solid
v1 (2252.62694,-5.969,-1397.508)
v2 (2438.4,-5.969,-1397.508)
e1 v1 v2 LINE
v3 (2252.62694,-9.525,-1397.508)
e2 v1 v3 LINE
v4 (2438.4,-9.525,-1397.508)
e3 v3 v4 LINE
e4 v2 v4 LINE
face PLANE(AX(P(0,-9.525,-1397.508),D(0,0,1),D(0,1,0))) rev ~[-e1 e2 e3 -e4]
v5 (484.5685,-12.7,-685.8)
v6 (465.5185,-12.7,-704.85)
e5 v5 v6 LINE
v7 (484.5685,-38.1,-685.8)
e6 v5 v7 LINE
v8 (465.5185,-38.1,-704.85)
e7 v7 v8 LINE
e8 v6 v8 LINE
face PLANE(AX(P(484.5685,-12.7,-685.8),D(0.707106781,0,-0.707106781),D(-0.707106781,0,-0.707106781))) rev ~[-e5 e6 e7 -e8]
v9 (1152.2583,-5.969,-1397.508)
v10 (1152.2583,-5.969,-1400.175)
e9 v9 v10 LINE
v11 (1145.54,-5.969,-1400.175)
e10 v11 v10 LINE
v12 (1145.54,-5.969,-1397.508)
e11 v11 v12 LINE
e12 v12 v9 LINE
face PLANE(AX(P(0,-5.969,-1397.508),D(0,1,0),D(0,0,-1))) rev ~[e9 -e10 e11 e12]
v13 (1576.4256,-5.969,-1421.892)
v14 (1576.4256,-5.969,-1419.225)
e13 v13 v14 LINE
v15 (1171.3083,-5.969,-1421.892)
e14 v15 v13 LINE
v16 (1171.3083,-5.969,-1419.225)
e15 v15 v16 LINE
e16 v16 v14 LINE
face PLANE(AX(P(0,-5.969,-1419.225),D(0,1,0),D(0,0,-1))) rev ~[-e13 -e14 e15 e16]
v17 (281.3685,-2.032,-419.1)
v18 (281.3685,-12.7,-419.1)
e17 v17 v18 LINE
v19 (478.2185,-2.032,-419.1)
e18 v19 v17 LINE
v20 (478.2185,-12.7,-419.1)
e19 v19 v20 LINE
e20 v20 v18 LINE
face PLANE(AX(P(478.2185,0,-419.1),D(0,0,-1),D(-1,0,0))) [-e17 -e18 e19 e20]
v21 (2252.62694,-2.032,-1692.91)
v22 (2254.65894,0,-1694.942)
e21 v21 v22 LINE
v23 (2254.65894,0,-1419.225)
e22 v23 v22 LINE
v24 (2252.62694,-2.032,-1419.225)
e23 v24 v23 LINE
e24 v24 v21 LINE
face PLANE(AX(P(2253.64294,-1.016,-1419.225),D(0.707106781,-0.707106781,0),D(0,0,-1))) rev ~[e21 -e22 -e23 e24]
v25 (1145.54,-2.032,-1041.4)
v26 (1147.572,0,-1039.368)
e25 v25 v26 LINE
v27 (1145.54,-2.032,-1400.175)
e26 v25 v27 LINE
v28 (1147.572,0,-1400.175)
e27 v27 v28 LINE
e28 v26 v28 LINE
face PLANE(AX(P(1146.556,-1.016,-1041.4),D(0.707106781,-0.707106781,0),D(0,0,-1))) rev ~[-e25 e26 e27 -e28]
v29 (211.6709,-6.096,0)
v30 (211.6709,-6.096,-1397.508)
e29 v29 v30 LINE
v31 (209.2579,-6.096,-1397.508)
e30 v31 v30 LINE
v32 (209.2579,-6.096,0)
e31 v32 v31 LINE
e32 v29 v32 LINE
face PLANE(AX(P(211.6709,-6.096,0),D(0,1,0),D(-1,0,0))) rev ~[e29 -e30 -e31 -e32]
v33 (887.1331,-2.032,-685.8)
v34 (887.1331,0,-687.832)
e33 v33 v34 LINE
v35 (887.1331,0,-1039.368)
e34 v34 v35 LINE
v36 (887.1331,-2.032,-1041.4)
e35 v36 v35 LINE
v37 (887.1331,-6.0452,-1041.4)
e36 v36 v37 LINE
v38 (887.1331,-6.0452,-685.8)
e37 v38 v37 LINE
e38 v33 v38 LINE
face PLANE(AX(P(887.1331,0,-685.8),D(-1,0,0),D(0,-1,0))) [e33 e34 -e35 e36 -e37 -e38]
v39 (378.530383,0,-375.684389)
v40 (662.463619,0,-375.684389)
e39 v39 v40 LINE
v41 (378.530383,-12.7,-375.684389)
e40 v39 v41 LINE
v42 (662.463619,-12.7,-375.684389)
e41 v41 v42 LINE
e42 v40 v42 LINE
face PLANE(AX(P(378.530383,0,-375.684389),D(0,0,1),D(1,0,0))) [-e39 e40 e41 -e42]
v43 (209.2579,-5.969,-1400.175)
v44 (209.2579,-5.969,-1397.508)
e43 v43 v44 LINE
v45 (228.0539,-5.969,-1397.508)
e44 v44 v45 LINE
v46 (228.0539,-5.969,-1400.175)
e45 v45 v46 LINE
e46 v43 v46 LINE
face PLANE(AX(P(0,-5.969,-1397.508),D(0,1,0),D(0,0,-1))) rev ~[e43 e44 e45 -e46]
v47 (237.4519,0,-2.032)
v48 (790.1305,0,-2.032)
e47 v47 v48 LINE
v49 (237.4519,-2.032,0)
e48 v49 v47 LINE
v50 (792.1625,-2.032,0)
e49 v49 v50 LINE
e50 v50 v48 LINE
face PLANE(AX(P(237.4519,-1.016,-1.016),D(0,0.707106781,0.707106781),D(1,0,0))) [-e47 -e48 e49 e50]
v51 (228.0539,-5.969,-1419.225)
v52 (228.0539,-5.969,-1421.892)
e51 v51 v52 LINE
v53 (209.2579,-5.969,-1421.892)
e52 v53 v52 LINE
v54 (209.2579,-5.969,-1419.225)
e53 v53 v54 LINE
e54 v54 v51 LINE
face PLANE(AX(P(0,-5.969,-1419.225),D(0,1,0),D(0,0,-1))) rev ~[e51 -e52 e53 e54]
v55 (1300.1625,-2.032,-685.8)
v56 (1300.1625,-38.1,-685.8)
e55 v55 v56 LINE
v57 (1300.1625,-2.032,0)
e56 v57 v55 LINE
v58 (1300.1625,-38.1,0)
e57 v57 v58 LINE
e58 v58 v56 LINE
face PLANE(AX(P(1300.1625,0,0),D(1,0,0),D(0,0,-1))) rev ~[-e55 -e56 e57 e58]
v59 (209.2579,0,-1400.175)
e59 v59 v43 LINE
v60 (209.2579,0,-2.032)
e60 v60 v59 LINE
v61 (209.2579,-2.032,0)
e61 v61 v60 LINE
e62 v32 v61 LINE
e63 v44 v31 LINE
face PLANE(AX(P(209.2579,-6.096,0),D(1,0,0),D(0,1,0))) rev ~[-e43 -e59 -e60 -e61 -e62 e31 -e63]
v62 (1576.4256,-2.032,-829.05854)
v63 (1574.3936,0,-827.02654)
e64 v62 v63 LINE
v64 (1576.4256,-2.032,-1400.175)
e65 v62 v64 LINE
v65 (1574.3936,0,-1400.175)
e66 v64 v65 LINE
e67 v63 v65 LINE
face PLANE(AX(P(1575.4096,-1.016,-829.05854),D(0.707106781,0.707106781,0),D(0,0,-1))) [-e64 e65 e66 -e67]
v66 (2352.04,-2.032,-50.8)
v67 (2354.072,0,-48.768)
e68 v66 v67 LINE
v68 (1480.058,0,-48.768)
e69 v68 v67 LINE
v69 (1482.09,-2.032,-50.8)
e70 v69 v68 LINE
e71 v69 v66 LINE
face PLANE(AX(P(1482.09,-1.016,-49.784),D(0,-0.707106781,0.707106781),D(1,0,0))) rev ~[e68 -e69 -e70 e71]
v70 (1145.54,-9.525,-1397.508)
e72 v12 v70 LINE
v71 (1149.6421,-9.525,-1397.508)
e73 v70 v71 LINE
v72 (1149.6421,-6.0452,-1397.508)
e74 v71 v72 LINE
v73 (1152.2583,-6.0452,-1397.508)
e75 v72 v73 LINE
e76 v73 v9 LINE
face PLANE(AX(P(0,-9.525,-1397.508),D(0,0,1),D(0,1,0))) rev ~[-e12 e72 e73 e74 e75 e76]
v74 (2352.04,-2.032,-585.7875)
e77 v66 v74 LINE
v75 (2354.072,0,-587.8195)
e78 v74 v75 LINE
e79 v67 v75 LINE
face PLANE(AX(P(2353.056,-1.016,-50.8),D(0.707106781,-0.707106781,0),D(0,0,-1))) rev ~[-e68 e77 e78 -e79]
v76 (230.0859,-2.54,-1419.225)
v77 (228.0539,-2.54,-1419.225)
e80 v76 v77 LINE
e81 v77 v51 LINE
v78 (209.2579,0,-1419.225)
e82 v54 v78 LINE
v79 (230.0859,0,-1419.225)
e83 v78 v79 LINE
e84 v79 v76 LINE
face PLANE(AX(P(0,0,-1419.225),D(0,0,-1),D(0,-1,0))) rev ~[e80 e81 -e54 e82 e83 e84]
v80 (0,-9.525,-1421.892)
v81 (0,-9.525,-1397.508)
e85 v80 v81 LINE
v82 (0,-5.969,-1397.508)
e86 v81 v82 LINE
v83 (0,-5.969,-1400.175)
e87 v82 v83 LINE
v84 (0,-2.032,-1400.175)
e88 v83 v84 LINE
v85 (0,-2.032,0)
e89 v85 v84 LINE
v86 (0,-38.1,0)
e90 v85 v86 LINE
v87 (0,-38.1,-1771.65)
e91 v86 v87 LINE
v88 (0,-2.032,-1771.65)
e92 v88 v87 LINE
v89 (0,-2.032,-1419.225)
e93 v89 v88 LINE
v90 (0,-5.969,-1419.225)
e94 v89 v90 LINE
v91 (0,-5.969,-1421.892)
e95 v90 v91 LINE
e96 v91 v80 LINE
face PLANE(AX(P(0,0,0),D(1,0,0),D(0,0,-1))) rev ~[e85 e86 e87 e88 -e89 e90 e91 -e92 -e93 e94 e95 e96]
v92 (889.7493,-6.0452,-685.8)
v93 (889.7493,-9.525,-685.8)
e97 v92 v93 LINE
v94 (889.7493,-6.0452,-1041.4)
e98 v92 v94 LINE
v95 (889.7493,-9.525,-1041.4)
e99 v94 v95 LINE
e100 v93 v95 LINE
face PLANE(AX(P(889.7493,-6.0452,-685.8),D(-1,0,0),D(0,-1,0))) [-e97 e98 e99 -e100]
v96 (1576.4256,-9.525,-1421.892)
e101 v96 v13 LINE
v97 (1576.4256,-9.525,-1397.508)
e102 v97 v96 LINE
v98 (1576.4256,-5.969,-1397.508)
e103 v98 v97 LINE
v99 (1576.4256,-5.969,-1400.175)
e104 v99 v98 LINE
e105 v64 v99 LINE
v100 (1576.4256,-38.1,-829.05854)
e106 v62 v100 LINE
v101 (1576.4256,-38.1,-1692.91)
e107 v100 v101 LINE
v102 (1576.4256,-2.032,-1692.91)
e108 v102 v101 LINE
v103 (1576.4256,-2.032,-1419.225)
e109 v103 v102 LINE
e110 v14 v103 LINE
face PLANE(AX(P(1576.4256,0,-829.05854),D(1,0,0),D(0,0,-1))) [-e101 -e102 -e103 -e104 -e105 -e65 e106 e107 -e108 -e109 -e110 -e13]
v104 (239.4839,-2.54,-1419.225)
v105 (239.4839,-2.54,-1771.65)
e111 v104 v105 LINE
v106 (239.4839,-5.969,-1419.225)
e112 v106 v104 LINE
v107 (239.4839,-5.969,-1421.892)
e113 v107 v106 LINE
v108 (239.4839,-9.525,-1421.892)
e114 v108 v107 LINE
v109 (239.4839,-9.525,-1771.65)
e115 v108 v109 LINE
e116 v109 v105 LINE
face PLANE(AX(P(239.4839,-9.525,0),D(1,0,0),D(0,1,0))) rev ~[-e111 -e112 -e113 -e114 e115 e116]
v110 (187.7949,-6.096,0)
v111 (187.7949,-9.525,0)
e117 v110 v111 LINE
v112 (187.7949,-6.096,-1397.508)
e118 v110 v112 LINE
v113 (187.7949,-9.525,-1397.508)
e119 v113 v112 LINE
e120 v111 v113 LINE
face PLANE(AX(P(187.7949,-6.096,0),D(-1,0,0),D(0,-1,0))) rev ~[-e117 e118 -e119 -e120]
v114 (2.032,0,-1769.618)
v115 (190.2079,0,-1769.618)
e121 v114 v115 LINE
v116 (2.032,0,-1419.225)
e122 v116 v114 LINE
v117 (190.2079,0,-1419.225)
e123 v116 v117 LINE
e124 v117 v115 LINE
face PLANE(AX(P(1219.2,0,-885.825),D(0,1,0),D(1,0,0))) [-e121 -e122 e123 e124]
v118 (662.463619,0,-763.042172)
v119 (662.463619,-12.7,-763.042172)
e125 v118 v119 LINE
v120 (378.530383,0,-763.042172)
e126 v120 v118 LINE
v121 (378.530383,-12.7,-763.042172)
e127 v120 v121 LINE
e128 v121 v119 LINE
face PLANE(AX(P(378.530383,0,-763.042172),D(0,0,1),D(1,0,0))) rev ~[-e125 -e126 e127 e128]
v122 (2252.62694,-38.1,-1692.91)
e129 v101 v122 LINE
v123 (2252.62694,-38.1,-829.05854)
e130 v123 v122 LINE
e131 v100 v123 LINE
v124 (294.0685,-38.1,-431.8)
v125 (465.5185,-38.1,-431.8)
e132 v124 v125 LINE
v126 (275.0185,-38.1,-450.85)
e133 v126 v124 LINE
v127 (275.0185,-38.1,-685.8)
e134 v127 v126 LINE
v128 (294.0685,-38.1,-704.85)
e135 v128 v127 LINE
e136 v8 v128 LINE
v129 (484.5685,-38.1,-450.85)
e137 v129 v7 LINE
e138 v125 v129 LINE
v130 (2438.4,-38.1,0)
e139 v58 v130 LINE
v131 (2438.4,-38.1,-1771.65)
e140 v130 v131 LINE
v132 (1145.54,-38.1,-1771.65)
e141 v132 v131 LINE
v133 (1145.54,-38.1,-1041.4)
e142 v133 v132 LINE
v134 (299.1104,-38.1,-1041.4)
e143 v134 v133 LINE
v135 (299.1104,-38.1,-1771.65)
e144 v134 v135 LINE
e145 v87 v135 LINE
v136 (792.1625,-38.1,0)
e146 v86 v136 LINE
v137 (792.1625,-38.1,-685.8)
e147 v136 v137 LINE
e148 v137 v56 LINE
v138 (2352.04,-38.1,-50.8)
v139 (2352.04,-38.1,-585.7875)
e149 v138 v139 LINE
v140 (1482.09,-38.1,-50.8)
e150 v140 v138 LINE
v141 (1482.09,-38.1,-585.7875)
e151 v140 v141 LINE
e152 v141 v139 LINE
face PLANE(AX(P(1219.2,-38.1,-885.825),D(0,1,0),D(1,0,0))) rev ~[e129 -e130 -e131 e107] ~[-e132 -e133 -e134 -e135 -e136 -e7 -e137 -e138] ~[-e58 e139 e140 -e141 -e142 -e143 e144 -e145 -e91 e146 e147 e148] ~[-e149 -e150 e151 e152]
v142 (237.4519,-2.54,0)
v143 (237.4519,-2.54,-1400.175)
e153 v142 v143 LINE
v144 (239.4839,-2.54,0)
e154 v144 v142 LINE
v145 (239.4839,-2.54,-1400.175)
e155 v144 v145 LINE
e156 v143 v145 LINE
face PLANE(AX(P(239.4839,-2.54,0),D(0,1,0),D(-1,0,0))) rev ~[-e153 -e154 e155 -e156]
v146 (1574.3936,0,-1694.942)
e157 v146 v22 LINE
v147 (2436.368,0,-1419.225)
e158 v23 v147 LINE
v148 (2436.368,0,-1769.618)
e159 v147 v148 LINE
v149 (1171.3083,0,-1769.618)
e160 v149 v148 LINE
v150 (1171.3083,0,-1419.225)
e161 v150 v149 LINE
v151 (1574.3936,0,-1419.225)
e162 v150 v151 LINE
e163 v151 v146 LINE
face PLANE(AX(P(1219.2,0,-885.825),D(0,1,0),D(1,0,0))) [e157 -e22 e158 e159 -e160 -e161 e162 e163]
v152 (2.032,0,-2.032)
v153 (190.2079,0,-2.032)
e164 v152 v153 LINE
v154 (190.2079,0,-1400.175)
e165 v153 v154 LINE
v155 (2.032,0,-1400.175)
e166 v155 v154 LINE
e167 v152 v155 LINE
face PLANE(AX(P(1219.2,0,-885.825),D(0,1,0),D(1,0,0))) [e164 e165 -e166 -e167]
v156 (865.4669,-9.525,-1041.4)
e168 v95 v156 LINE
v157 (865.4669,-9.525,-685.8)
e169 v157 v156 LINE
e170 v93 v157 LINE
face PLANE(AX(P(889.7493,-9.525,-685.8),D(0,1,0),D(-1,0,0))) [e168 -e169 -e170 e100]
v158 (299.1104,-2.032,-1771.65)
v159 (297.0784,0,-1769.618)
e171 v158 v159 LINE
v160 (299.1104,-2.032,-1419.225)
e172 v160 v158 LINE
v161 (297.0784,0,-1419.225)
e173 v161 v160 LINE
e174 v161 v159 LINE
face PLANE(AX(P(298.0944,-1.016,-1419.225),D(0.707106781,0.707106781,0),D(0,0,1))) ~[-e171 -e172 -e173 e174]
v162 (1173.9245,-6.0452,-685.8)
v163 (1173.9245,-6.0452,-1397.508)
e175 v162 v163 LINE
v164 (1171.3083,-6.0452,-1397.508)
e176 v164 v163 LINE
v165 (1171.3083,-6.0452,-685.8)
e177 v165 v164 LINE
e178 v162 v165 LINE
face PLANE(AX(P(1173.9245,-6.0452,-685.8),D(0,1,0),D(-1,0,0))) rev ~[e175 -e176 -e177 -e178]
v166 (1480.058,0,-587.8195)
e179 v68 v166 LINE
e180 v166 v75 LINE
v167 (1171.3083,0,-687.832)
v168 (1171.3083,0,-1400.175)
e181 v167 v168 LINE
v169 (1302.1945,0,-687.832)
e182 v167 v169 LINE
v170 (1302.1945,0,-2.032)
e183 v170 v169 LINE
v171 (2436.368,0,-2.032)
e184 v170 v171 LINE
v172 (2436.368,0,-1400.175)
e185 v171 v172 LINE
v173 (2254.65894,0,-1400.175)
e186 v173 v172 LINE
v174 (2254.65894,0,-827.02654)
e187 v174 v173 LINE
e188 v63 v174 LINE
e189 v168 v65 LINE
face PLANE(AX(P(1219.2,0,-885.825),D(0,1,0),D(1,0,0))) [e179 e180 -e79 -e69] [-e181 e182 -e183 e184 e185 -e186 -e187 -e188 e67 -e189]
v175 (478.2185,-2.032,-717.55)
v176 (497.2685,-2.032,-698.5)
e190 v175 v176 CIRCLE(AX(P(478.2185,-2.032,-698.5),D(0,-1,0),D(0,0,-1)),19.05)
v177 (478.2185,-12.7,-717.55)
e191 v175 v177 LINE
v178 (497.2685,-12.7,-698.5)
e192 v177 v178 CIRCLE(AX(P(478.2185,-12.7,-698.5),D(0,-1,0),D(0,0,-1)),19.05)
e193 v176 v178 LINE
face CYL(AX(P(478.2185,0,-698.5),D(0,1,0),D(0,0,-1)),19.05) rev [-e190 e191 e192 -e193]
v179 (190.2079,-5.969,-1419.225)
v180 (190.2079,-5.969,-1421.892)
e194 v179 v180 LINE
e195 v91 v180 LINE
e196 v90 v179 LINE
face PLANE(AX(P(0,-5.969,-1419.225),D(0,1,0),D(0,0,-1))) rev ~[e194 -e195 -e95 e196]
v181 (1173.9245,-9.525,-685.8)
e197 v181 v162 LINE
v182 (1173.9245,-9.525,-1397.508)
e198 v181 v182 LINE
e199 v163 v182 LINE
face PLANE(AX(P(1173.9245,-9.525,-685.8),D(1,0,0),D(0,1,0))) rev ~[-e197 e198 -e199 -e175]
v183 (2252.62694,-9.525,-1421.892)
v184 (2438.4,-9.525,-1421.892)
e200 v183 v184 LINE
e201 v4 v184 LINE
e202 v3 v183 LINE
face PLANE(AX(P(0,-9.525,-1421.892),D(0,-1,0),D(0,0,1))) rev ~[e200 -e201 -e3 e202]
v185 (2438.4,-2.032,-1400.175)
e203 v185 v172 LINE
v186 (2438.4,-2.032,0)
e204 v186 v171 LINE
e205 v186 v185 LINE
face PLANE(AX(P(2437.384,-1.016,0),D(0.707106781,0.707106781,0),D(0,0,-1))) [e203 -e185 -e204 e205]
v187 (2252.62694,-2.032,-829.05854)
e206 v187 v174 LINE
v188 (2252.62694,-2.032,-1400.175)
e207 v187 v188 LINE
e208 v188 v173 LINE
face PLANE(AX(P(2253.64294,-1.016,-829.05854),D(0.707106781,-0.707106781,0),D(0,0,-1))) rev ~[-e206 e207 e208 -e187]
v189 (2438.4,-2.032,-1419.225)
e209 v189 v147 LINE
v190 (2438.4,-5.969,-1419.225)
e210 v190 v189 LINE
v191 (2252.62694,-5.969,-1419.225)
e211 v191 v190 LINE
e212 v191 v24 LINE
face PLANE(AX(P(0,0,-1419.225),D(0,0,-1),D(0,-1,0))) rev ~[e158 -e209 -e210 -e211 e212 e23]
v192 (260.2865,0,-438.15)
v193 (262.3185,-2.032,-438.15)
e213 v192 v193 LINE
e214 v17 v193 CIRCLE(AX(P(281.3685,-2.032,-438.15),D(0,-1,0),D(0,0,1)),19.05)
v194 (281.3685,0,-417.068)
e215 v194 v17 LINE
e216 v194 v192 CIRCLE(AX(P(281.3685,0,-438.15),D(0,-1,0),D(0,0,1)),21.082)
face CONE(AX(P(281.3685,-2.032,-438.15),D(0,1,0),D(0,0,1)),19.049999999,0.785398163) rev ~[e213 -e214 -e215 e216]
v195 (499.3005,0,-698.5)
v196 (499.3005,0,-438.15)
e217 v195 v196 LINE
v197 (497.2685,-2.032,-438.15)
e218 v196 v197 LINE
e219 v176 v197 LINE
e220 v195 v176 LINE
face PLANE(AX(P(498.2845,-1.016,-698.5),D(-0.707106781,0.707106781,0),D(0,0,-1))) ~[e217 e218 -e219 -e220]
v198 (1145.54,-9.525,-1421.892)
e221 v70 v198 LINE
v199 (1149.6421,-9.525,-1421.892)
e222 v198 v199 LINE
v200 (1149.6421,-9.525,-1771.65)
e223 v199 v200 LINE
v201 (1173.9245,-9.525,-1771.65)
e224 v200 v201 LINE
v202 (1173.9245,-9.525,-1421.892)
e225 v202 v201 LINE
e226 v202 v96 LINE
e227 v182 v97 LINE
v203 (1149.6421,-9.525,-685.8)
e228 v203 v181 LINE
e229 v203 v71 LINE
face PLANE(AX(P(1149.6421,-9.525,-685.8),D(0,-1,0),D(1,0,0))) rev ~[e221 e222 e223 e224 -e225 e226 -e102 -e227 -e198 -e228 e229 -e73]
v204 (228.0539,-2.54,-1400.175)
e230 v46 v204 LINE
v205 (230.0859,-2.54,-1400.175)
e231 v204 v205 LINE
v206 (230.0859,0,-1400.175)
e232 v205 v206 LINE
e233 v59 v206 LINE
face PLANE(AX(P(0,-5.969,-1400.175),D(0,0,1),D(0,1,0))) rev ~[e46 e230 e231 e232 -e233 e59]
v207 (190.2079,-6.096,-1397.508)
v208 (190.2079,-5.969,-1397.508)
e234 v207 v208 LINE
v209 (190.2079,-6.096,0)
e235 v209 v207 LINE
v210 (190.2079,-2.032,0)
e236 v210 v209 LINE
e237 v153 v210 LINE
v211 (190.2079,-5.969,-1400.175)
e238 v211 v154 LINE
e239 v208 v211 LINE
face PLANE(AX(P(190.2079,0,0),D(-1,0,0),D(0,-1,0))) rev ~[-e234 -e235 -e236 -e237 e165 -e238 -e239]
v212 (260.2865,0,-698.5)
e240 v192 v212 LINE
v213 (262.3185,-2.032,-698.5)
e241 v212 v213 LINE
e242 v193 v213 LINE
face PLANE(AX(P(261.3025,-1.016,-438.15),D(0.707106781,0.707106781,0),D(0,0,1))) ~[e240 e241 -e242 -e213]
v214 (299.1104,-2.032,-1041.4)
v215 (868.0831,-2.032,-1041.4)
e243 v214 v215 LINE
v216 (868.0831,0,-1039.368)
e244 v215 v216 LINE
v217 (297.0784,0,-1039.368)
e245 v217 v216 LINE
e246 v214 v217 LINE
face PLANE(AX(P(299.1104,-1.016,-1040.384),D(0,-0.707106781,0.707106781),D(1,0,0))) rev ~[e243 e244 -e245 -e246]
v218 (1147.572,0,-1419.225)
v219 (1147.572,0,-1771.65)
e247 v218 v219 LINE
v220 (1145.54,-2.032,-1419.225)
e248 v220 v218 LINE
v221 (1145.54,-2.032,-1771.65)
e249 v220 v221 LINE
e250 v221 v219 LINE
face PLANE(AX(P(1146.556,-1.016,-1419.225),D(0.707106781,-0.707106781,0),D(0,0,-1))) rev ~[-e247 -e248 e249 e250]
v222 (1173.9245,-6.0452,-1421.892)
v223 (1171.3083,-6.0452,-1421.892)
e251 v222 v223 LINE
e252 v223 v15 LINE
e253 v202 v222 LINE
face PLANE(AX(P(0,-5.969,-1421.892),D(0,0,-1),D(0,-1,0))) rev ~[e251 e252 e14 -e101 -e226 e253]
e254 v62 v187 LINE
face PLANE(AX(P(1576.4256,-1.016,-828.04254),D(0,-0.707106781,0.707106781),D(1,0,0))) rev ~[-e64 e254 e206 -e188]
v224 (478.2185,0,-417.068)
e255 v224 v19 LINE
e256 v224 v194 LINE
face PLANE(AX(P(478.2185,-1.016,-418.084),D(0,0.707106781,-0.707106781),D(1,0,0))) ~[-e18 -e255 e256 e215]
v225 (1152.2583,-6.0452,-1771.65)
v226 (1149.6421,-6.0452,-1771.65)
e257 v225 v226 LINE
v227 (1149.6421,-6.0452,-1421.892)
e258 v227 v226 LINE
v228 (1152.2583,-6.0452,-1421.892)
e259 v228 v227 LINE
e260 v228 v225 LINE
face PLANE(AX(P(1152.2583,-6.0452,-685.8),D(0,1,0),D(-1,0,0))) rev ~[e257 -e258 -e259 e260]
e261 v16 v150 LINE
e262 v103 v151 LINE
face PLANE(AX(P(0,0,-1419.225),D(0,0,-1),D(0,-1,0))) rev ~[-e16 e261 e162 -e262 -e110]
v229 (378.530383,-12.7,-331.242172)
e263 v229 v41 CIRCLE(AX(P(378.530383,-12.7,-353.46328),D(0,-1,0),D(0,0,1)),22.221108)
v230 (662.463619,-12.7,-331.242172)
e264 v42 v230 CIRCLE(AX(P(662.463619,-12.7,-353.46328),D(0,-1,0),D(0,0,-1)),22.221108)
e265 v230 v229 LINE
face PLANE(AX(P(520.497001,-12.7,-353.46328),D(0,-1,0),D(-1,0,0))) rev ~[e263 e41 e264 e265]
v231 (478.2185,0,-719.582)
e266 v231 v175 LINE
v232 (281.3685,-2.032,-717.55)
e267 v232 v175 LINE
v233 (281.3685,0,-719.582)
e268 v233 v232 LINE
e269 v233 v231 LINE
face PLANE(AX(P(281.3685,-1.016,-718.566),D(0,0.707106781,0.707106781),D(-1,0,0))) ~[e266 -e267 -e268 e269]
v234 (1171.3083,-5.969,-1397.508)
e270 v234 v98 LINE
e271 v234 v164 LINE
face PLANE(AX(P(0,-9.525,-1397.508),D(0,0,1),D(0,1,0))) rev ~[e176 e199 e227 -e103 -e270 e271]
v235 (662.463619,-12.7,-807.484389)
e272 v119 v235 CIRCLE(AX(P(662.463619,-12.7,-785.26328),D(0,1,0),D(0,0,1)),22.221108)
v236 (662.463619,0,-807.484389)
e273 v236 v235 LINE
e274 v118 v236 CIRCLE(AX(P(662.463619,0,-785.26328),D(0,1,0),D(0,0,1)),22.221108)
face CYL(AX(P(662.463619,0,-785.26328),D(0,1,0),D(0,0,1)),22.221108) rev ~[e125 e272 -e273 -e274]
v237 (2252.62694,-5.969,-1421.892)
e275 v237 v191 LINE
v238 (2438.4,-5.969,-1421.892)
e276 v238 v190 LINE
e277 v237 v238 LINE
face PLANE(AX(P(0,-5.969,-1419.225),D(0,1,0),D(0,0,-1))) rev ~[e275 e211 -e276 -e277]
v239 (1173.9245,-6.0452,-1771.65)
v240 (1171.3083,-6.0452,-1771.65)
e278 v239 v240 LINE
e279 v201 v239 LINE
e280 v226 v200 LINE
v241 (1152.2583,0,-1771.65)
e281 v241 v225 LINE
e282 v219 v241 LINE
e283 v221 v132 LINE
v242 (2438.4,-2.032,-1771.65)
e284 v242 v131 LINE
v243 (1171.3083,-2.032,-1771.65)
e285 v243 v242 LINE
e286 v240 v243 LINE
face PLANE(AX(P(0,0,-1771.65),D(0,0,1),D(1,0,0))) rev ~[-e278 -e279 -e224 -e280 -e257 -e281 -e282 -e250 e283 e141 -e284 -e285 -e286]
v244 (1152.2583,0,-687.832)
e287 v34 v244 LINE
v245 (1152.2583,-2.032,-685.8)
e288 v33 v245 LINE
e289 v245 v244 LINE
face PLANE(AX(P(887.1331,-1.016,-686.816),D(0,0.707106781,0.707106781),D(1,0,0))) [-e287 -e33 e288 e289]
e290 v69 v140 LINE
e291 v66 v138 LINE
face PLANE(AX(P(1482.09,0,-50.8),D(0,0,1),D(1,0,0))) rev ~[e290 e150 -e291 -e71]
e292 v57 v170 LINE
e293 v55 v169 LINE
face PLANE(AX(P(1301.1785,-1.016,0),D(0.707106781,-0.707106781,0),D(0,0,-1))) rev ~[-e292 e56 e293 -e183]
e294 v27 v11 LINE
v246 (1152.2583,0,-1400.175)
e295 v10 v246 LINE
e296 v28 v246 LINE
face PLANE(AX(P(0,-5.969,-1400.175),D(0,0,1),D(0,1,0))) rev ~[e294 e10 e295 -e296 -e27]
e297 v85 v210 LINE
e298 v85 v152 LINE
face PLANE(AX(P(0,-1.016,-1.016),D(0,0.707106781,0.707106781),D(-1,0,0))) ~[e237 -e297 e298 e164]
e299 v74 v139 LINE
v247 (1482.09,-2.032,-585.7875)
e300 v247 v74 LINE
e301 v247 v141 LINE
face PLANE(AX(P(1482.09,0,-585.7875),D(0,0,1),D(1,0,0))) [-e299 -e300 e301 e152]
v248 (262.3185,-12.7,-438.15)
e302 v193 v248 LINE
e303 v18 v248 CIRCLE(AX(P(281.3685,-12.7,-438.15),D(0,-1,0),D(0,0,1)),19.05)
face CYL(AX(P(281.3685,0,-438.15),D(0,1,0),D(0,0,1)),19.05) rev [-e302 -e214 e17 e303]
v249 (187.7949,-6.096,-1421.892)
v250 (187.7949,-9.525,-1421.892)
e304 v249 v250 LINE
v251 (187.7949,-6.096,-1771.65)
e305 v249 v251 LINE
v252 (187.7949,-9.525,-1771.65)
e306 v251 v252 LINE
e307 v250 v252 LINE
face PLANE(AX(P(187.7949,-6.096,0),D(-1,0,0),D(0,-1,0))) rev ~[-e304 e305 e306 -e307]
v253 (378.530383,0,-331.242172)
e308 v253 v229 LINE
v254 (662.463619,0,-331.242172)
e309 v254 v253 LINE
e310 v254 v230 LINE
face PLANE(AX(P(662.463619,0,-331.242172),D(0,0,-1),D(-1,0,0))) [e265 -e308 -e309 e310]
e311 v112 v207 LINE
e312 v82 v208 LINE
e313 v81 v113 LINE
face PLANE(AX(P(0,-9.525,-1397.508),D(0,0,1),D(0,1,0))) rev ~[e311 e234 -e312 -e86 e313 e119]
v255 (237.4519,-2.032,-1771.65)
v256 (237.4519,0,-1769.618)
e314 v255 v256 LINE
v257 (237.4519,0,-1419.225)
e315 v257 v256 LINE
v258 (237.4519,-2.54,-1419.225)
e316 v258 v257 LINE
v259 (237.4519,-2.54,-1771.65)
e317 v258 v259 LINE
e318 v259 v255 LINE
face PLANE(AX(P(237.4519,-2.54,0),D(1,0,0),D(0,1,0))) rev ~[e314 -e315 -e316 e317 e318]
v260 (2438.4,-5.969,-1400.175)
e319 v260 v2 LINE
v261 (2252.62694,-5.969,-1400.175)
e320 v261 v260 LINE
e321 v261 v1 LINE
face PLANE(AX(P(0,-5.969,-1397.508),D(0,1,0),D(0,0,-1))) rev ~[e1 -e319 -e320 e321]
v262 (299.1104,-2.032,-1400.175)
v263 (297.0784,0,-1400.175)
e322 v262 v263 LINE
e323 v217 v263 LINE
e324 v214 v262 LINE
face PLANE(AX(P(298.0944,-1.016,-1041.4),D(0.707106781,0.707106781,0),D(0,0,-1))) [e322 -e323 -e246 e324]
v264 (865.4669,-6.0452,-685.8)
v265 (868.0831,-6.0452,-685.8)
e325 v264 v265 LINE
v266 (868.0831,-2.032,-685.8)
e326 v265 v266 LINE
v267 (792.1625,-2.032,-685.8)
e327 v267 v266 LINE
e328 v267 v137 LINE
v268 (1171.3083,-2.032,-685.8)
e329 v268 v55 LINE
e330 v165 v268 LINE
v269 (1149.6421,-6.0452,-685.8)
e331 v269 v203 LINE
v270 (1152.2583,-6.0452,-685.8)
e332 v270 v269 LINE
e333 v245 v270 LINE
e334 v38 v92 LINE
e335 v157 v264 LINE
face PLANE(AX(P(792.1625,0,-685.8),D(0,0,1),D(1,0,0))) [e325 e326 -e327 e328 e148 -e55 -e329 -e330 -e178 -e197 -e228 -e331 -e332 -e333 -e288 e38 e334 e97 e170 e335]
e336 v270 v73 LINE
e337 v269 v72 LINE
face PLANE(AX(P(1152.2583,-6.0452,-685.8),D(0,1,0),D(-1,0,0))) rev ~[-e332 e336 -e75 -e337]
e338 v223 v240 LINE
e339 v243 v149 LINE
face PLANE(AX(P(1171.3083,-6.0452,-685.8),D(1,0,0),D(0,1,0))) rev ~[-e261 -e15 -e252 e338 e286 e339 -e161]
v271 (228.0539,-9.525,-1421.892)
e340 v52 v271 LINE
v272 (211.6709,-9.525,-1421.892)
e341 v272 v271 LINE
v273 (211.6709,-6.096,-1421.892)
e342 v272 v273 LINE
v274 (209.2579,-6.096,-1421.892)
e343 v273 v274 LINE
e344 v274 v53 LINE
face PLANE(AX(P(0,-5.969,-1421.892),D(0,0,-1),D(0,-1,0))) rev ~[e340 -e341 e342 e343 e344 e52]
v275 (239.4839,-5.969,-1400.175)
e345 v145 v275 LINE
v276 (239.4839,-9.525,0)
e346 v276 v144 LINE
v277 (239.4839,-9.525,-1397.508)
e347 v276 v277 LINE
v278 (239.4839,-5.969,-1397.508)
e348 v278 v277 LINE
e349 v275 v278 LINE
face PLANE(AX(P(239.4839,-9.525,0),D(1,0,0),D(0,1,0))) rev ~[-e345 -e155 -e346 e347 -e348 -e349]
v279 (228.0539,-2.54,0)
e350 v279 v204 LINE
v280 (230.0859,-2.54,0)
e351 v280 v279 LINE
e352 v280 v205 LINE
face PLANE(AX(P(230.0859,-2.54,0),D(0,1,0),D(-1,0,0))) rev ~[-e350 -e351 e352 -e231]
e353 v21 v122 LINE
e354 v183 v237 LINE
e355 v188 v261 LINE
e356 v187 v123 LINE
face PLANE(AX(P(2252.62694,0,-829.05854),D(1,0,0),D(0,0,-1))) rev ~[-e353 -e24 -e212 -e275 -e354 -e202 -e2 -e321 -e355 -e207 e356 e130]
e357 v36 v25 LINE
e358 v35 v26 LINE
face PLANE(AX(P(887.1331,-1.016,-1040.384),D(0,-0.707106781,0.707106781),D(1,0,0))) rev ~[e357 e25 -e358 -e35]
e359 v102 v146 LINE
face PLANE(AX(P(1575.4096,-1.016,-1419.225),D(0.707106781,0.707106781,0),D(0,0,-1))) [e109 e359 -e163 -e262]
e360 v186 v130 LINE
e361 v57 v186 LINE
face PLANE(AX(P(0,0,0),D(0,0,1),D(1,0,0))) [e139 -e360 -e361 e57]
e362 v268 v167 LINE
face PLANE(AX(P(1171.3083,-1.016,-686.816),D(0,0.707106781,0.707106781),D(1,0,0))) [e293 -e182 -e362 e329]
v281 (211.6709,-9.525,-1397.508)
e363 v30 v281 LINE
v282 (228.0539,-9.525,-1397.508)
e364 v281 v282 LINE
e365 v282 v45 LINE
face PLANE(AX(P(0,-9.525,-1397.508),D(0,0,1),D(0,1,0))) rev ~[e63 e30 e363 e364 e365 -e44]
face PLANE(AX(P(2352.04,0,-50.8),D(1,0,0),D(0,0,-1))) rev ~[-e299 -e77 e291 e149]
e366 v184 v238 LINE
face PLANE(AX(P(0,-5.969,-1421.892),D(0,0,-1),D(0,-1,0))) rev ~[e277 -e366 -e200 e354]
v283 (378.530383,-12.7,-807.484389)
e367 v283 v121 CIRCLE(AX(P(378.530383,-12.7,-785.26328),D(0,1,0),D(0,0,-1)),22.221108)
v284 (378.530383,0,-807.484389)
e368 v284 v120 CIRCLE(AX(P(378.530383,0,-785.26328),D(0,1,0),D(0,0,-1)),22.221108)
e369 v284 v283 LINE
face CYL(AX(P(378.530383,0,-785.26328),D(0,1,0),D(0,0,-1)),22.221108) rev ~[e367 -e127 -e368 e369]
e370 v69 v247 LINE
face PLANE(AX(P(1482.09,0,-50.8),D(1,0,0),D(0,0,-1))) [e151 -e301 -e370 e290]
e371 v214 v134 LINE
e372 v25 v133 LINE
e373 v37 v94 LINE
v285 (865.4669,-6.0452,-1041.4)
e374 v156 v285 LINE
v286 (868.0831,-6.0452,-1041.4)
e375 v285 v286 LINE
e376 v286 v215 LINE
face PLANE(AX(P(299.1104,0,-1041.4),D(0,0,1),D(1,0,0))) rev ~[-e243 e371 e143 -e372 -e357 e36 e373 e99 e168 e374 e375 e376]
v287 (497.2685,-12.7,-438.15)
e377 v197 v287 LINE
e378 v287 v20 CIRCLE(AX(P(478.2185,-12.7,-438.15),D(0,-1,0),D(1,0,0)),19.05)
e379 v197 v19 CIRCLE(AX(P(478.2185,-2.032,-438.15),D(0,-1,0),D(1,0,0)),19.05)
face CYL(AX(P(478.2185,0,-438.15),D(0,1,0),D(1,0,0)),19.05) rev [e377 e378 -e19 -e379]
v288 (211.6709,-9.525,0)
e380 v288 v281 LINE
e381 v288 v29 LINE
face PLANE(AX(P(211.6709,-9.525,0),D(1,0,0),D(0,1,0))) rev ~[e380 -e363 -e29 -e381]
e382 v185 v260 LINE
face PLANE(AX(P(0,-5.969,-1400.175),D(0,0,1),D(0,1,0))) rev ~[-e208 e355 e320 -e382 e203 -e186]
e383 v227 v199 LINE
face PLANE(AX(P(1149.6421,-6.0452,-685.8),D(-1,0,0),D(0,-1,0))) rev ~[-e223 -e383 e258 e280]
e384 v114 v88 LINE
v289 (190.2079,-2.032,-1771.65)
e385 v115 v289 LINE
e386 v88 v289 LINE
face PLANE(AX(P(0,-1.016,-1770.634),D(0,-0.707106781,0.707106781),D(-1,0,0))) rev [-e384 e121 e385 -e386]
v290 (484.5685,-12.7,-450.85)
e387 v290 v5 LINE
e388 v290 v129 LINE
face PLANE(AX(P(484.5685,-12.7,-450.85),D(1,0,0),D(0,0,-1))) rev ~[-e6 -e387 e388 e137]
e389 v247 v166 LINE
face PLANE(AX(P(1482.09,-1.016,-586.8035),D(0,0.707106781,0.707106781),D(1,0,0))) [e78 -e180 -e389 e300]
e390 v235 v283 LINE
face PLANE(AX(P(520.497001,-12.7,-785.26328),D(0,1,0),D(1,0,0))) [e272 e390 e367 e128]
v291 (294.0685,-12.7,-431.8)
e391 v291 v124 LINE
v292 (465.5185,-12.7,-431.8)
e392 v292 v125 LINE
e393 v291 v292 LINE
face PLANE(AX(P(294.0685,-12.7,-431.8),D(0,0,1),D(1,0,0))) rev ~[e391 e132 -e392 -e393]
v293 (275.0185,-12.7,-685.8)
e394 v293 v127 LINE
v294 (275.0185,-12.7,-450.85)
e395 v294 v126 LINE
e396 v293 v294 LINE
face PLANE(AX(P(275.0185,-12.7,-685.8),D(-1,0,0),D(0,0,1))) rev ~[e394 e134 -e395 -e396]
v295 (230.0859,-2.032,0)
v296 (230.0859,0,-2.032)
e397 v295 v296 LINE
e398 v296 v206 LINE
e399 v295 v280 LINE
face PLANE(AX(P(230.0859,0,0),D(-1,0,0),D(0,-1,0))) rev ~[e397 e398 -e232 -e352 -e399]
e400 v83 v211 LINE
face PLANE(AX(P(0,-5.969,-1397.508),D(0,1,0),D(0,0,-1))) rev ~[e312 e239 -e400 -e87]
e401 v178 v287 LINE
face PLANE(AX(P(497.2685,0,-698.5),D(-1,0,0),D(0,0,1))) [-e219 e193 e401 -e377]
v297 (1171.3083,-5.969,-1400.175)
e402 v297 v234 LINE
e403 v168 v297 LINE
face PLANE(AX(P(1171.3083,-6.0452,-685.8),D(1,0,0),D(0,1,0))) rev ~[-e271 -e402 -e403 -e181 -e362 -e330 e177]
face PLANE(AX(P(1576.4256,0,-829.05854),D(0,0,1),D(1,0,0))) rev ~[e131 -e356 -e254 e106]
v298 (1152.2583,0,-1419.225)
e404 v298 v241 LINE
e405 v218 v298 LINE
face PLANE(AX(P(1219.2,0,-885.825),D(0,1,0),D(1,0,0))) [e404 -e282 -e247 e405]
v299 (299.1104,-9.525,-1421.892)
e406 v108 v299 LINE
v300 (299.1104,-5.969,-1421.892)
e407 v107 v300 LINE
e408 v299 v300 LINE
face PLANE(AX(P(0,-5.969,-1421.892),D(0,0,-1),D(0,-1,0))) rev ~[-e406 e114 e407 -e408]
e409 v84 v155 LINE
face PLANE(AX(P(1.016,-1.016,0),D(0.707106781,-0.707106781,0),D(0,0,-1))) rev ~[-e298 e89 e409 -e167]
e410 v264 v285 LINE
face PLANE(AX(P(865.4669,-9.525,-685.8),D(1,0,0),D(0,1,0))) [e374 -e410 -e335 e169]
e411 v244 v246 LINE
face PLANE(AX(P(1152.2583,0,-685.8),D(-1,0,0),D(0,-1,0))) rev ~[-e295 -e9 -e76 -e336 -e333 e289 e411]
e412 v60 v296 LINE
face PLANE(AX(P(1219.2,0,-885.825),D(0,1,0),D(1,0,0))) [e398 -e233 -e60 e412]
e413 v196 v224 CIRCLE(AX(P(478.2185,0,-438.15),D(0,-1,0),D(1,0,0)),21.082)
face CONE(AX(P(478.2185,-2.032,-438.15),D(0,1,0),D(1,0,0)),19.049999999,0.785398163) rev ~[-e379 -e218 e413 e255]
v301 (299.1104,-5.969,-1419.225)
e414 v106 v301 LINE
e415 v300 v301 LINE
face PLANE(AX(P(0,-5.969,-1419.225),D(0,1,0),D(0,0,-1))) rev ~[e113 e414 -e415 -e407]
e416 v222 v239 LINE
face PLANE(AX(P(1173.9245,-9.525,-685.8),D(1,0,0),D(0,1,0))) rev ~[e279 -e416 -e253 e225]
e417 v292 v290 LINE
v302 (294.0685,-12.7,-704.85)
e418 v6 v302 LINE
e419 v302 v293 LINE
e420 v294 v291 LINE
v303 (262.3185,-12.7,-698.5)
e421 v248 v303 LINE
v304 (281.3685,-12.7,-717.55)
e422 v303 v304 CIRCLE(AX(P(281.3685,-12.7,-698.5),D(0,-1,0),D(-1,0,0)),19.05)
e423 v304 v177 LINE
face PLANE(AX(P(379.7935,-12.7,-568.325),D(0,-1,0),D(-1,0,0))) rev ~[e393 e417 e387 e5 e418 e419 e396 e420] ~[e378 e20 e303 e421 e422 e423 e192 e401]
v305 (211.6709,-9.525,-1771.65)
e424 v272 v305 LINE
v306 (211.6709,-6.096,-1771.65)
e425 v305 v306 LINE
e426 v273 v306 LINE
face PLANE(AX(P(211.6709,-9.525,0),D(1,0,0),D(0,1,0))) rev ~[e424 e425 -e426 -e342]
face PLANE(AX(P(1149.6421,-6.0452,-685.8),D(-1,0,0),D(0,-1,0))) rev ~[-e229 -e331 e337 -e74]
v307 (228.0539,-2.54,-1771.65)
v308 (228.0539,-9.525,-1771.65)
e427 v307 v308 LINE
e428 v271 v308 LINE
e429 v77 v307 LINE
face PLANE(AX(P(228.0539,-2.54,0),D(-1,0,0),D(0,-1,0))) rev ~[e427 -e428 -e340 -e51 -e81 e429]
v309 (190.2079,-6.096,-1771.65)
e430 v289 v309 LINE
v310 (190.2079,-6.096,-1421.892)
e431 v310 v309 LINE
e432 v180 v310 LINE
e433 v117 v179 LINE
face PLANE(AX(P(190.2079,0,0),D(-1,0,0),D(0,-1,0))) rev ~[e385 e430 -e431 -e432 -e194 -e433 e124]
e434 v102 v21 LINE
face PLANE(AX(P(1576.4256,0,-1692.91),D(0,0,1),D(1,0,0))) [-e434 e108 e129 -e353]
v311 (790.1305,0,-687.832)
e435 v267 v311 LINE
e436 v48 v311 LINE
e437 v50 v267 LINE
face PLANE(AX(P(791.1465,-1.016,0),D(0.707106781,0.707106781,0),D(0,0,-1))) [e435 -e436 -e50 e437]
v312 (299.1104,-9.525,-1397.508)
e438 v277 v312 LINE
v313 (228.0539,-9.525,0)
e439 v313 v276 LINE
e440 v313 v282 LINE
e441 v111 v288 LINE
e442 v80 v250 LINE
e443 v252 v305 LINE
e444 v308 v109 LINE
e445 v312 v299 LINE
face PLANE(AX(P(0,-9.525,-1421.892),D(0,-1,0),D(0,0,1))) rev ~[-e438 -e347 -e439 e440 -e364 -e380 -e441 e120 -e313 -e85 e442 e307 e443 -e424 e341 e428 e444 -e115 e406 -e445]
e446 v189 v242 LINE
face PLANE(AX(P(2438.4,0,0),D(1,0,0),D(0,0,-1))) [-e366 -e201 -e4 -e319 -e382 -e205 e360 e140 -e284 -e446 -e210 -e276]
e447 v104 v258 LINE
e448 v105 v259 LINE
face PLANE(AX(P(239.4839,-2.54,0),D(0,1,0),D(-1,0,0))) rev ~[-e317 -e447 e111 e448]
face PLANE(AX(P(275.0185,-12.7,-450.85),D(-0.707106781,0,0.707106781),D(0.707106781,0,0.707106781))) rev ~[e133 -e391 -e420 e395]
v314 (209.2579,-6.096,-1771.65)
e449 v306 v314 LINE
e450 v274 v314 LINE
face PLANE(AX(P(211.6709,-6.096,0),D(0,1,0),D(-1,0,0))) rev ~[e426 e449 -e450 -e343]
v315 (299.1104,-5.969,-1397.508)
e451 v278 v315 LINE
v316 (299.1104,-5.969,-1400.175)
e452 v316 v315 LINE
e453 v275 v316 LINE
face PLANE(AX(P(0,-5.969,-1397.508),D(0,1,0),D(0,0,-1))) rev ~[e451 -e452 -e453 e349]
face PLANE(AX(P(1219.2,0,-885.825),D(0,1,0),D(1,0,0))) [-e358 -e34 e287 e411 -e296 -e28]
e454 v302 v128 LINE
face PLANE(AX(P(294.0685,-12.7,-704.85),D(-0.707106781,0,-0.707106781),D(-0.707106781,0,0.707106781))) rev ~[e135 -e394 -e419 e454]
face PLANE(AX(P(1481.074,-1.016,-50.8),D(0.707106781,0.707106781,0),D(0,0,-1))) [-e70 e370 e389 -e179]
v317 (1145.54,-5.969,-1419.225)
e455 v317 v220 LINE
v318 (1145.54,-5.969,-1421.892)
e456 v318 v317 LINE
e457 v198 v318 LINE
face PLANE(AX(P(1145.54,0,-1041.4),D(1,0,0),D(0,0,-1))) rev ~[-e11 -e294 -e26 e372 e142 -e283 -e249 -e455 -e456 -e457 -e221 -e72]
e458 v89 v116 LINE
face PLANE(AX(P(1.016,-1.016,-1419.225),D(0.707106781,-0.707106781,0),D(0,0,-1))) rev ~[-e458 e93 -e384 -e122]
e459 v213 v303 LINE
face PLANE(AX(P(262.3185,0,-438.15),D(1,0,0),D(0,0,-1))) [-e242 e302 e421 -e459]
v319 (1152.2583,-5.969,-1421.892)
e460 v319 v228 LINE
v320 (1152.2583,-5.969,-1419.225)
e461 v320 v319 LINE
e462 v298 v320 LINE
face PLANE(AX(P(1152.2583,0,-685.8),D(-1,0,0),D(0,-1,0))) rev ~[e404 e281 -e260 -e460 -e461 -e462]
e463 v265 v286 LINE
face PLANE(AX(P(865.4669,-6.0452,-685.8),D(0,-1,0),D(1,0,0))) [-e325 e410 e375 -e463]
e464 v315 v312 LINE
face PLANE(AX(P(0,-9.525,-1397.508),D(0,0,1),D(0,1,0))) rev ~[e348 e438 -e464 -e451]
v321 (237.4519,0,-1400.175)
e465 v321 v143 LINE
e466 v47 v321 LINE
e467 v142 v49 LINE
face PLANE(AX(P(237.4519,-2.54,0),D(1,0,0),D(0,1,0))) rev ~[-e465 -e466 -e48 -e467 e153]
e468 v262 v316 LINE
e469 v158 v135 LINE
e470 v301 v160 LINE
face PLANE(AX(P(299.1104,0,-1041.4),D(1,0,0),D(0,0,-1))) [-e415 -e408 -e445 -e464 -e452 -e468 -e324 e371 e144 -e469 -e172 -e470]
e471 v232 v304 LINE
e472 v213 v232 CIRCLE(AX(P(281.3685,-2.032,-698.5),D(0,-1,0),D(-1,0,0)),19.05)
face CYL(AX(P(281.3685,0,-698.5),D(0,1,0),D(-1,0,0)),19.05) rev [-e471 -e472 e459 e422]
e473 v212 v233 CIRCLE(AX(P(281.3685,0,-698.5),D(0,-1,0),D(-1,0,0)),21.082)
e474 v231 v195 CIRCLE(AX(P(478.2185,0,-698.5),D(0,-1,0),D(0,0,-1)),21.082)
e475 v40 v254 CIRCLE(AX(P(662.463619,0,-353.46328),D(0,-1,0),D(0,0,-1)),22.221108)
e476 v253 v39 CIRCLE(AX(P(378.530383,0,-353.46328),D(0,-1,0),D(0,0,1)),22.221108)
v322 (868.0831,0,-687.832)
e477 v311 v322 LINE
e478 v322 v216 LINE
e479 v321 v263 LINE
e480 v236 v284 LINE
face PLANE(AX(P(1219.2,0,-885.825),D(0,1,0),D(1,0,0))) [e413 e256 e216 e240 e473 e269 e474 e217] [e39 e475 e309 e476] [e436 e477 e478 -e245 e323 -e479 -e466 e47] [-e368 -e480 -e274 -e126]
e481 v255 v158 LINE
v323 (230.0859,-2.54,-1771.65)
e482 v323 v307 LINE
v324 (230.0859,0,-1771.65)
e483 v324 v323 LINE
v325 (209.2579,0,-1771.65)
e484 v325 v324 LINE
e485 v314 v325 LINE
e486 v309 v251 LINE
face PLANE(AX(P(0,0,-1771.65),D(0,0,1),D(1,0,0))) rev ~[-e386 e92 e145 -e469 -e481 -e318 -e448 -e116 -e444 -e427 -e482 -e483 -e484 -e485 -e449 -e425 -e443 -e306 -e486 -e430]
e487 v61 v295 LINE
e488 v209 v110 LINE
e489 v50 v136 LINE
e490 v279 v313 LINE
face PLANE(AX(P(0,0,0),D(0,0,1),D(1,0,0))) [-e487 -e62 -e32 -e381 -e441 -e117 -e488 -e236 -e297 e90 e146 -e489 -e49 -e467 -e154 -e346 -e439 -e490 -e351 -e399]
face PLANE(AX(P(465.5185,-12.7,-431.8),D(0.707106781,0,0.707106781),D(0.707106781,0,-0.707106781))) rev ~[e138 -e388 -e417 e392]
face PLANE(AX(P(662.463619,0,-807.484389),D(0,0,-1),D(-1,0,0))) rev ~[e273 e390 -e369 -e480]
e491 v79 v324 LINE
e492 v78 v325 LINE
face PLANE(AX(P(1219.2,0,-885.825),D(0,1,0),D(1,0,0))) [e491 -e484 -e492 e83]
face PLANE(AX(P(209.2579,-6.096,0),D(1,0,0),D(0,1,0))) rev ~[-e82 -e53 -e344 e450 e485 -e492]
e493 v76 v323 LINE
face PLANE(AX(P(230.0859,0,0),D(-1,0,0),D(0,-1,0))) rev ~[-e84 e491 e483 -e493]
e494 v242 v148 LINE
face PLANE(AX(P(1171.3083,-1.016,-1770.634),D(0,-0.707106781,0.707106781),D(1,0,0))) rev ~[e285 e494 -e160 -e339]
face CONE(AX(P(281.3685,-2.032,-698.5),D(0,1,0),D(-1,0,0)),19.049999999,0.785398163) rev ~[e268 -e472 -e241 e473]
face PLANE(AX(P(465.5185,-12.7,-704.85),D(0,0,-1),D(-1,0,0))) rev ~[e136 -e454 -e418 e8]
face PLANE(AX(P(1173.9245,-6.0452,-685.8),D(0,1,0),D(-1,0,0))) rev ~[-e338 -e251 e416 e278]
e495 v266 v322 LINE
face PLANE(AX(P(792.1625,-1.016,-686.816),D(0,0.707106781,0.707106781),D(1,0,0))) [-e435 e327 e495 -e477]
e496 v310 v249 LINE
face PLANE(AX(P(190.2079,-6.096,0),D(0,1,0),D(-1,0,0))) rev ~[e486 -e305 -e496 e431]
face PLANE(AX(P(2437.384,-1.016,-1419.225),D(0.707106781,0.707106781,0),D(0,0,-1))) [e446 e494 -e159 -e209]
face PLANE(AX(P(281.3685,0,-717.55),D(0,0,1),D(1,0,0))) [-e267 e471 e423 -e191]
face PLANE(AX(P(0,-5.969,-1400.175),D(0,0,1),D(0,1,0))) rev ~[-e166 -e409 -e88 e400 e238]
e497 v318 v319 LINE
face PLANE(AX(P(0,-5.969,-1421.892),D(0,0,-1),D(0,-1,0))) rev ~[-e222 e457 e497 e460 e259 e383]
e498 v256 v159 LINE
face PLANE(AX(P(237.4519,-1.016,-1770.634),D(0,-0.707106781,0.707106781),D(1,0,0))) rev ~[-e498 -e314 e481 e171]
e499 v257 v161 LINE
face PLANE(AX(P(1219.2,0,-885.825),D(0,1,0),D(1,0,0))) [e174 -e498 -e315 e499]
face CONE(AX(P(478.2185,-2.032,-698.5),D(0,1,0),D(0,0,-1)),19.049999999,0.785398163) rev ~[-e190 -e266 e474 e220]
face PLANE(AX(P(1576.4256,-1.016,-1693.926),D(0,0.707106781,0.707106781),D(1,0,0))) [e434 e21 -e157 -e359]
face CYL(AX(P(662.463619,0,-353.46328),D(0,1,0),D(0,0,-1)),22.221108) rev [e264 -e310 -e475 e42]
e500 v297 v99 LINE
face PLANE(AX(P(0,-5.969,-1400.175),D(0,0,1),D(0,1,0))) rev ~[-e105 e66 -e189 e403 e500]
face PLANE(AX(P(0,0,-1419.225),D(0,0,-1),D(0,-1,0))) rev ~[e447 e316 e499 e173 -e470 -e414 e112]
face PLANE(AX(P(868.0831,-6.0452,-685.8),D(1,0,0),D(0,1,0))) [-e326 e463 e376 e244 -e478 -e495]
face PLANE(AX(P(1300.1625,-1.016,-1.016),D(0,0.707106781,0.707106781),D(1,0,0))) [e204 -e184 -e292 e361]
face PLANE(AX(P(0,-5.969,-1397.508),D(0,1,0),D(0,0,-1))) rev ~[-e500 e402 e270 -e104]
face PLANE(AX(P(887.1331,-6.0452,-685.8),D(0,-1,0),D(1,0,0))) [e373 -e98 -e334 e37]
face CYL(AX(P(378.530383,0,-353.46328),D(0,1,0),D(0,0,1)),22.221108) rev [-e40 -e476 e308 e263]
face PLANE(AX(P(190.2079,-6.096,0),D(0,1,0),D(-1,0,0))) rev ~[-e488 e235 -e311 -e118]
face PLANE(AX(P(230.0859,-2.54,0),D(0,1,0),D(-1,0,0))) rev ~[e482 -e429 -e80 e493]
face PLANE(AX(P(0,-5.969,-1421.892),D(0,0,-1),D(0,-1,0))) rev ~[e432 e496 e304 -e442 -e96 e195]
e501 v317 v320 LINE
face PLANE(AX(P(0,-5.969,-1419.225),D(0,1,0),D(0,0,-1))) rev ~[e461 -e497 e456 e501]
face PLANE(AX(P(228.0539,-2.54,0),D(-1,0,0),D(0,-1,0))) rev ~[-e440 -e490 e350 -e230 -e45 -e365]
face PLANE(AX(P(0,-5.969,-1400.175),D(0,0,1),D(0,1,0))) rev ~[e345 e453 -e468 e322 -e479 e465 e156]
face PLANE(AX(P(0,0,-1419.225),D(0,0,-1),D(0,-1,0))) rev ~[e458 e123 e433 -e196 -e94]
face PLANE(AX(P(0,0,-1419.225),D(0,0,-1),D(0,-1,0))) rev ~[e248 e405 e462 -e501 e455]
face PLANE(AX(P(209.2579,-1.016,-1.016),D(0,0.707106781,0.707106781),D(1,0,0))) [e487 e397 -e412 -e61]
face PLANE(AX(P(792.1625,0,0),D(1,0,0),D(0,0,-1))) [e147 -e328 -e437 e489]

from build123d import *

# Parameters (mm, degrees)
SKETCH1_W           = 2438.4
SKETCH1_H           = 1771.65
BOSS_EXTRUDE1_DEPTH = 38.1
SKETCH2_W           = 869.95
SKETCH2_H           = 534.9875
CUT_EXTRUDE1_DEPTH  = 39.1
SKETCH3_W           = 508
SKETCH3_H           = 685.8
CUT_EXTRUDE2_DEPTH  = 39.1
SKETCH4_W           = 676.20134
SKETCH4_H           = 863.85146
CUT_EXTRUDE3_DEPTH  = 39.1
SKETCH5_W           = 846.4296
SKETCH5_H           = 730.25
CUT_EXTRUDE4_DEPTH  = 39.1
CUT_EXTRUDE5_DEPTH  = 12.7
CUT_EXTRUDE6_DEPTH  = 26.4
CUT_EXTRUDE7_DEPTH  = 1086.85
CUT_EXTRUDE8_DEPTH  = 1772.65
CUT_EXTRUDE10_DEPTH = 2439.4
CHAMFER4_SIZE       = 2.032
CUT_EXTRUDE12_DEPTH = 12.7
CUT_EXTRUDE13_DEPTH = 12.7


with BuildPart() as part:
    # Sketch1 → Boss-Extrude1 (new body)
    with BuildSketch(Plane(origin=(0, 0, 0), x_dir=(1, 0, 0), z_dir=(0, 1, 0))):
        with Locations((1219.2, 885.825)):
            Rectangle(SKETCH1_W, SKETCH1_H)
    extrude(amount=-BOSS_EXTRUDE1_DEPTH)

    # Sketch2 → Cut-Extrude1 (cut, through all)
    with BuildSketch(Plane(origin=(0, 0, 0), x_dir=(1, 0, 0), z_dir=(0, 1, 0))):
        with Locations((1917.065, 318.29375)):
            Rectangle(SKETCH2_W, SKETCH2_H)
    extrude(amount=-CUT_EXTRUDE1_DEPTH, mode=Mode.SUBTRACT)

    # Sketch3 → Cut-Extrude2 (cut, through all)
    with BuildSketch(Plane(origin=(0, 0, 0), x_dir=(1, 0, 0), z_dir=(0, 1, 0))):
        with Locations((1046.1625, 342.9)):
            Rectangle(SKETCH3_W, SKETCH3_H)
    extrude(amount=-CUT_EXTRUDE2_DEPTH, mode=Mode.SUBTRACT)

    # Sketch4 → Cut-Extrude3 (cut, through all)
    with BuildSketch(Plane(origin=(0, 0, 0), x_dir=(1, 0, 0), z_dir=(0, 1, 0))):
        with Locations((1914.52627, 1260.98427)):
            Rectangle(SKETCH4_W, SKETCH4_H)
    extrude(amount=-CUT_EXTRUDE3_DEPTH, mode=Mode.SUBTRACT)

    # Sketch5 → Cut-Extrude4 (cut, through all)
    with BuildSketch(Plane(origin=(0, 0, 0), x_dir=(1, 0, 0), z_dir=(0, 1, 0))):
        with Locations((722.3252, 1406.525)):
            Rectangle(SKETCH5_W, SKETCH5_H)
    extrude(amount=-CUT_EXTRUDE4_DEPTH, mode=Mode.SUBTRACT)

    # Sketch7 → Cut-Extrude5 (cut)
    with BuildSketch(Plane(origin=(0, 0, 0), x_dir=(1, 0, 0), z_dir=(0, 1, 0))):
        with BuildLine():
            Line((281.3685, 717.55), (478.2185, 717.55))
            ThreePointArc((478.2185, 717.55), (491.688884182, 711.970384182), (497.2685, 698.5))
            Line((497.2685, 698.5), (497.2685, 438.15))
            ThreePointArc((497.2685, 438.15), (491.688884182, 424.679615818), (478.2185, 419.1))
            Line((478.2185, 419.1), (281.3685, 419.1))
            ThreePointArc((281.3685, 419.1), (267.898115818, 424.679615818), (262.3185, 438.15))
            Line((262.3185, 438.15), (262.3185, 698.5))
            ThreePointArc((262.3185, 698.5), (267.898115818, 711.970384182), (281.3685, 717.55))
        make_face()
    extrude(amount=-CUT_EXTRUDE5_DEPTH, mode=Mode.SUBTRACT)

    # Sketch8 → Cut-Extrude6 (cut, through all)
    with BuildSketch(Plane(origin=(0, -12.7, 0), x_dir=(1, 0, 0), z_dir=(0, 1, 0))):
        Polygon((294.0685, 704.85), (275.0185, 685.8), (275.0185, 450.85), (294.0685, 431.8), (465.5185, 431.8), (484.5685, 450.85), (484.5685, 685.8), (465.5185, 704.85), align=None)
    extrude(amount=-CUT_EXTRUDE6_DEPTH, mode=Mode.SUBTRACT)

    # Sketch10 → Cut-Extrude7 (cut, through all)
    with BuildSketch(Plane.XY.offset(-685.8)):
        Polygon((1171.3083, 0), (1152.2583, 0), (1152.2583, -6.0452), (1149.6421, -6.0452), (1149.6421, -9.525), (1173.9245, -9.525), (1173.9245, -6.0452), (1171.3083, -6.0452), align=None)
        Polygon((889.7493, -9.525), (865.4669, -9.525), (865.4669, -6.0452), (868.0831, -6.0452), (868.0831, 0), (887.1331, 0), (887.1331, -6.0452), (889.7493, -6.0452), align=None)
    extrude(amount=-CUT_EXTRUDE7_DEPTH, mode=Mode.SUBTRACT)

    # Sketch12 → Cut-Extrude8 (cut, through all)
    with BuildSketch(Plane.XY):
        Polygon((209.2579, 0), (190.2079, 0), (190.2079, -6.096), (187.7949, -6.096), (187.7949, -9.525), (211.6709, -9.525), (211.6709, -6.096), (209.2579, -6.096), align=None)
        Polygon((237.4519, 0), (230.0859, 0), (230.0859, -2.54), (228.0539, -2.54), (228.0539, -9.525), (239.4839, -9.525), (239.4839, -2.54), (237.4519, -2.54), align=None)
    extrude(amount=-CUT_EXTRUDE8_DEPTH, mode=Mode.SUBTRACT)

    # Sketch16 → Cut-Extrude10 (cut, through all)
    with BuildSketch(Plane.ZY):
        Polygon((-1421.892, -9.525), (-1397.508, -9.525), (-1397.508, -5.969), (-1400.175, -5.969), (-1400.175, 0), (-1419.225, 0), (-1419.225, -5.969), (-1421.892, -5.969), align=None)
    extrude(amount=-CUT_EXTRUDE10_DEPTH, mode=Mode.SUBTRACT)

    # Chamfer4
    chamfer4_edges = [part.edges().sort_by_distance(p)[0] for p in [
        (1016.33655, 0, -1041.4),
        (1019.6957, 0, -685.8),
        (830.1228, 0, -685.8),
        (219.6719, 0, 0),
        (514.8072, 0, 0),
        (2352.04, 0, -318.29375),
        (95.10395, 0, -1771.65),
        (1917.065, 0, -585.7875),
        (1482.09, 0, -318.29375),
        (1917.065, 0, -50.8),
        (1145.54, 0, -1595.4375),
        (299.1104, 0, -1220.7875),
        (1576.4256, 0, -1114.61677),
        (2252.62694, 0, -1556.0675),
        (1869.28125, 0, 0),
        (2438.4, 0, -1595.4375),
        (0, 0, -700.0875),
        (792.1625, 0, -342.9),
        (1300.1625, 0, -342.9),
        (1235.7354, 0, -685.8),
        (0, 0, -1595.4375),
        (1804.85415, 0, -1771.65),
        (2252.62694, 0, -1114.61677),
        (1914.52627, 0, -1692.91),
        (1576.4256, 0, -1556.0675),
        (1914.52627, 0, -829.05854),
        (2438.4, 0, -700.0875),
        (95.10395, 0, 0),
        (268.28115, 0, -1771.65),
        (299.1104, 0, -1595.4375),
        (583.59675, 0, -1041.4),
        (1145.54, 0, -1220.7875),
        (491.688884182, 0, -424.679615818),
        (497.2685, 0, -568.325),
        (491.688884182, 0, -711.970384182),
        (379.7935, 0, -717.55),
        (267.898115818, 0, -711.970384182),
        (262.3185, 0, -568.325),
        (267.898115818, 0, -424.679615818),
        (379.7935, 0, -419.1),
    ]]
    chamfer(chamfer4_edges, length=CHAMFER4_SIZE)

    # Sketch17 → Cut-Extrude12 (cut)
    with BuildSketch(Plane(origin=(0, 0, 0), x_dir=(1, 0, 0), z_dir=(0, 1, 0))):
        with BuildLine():
            Line((378.53038292, 763.042172), (662.463619231, 763.042172))
            ThreePointArc((662.463619231, 763.042172), (684.684727521, 785.263280291), (662.463619231, 807.484388581))
            Line((662.463619231, 807.484388581), (378.53038292, 807.484388581))
            ThreePointArc((378.53038292, 807.484388581), (356.309274629, 785.263280291), (378.53038292, 763.042172))
        make_face()
    extrude(amount=-CUT_EXTRUDE12_DEPTH, mode=Mode.SUBTRACT)

    # Sketch18 → Cut-Extrude13 (cut)
    with BuildSketch(Plane(origin=(0, 0, 0), x_dir=(1, 0, 0), z_dir=(0, 1, 0))):
        with BuildLine():
            Line((378.53038292, 375.684388581), (662.463619231, 375.684388581))
            ThreePointArc((662.463619231, 375.684388581), (684.684727521, 353.463280291), (662.463619231, 331.242172))
            Line((662.463619231, 331.242172), (378.53038292, 331.242172))
            ThreePointArc((378.53038292, 331.242172), (356.309274629, 353.463280291), (378.53038292, 375.684388581))
        make_face()
    extrude(amount=-CUT_EXTRUDE13_DEPTH, mode=Mode.SUBTRACT)


solid = part.part
